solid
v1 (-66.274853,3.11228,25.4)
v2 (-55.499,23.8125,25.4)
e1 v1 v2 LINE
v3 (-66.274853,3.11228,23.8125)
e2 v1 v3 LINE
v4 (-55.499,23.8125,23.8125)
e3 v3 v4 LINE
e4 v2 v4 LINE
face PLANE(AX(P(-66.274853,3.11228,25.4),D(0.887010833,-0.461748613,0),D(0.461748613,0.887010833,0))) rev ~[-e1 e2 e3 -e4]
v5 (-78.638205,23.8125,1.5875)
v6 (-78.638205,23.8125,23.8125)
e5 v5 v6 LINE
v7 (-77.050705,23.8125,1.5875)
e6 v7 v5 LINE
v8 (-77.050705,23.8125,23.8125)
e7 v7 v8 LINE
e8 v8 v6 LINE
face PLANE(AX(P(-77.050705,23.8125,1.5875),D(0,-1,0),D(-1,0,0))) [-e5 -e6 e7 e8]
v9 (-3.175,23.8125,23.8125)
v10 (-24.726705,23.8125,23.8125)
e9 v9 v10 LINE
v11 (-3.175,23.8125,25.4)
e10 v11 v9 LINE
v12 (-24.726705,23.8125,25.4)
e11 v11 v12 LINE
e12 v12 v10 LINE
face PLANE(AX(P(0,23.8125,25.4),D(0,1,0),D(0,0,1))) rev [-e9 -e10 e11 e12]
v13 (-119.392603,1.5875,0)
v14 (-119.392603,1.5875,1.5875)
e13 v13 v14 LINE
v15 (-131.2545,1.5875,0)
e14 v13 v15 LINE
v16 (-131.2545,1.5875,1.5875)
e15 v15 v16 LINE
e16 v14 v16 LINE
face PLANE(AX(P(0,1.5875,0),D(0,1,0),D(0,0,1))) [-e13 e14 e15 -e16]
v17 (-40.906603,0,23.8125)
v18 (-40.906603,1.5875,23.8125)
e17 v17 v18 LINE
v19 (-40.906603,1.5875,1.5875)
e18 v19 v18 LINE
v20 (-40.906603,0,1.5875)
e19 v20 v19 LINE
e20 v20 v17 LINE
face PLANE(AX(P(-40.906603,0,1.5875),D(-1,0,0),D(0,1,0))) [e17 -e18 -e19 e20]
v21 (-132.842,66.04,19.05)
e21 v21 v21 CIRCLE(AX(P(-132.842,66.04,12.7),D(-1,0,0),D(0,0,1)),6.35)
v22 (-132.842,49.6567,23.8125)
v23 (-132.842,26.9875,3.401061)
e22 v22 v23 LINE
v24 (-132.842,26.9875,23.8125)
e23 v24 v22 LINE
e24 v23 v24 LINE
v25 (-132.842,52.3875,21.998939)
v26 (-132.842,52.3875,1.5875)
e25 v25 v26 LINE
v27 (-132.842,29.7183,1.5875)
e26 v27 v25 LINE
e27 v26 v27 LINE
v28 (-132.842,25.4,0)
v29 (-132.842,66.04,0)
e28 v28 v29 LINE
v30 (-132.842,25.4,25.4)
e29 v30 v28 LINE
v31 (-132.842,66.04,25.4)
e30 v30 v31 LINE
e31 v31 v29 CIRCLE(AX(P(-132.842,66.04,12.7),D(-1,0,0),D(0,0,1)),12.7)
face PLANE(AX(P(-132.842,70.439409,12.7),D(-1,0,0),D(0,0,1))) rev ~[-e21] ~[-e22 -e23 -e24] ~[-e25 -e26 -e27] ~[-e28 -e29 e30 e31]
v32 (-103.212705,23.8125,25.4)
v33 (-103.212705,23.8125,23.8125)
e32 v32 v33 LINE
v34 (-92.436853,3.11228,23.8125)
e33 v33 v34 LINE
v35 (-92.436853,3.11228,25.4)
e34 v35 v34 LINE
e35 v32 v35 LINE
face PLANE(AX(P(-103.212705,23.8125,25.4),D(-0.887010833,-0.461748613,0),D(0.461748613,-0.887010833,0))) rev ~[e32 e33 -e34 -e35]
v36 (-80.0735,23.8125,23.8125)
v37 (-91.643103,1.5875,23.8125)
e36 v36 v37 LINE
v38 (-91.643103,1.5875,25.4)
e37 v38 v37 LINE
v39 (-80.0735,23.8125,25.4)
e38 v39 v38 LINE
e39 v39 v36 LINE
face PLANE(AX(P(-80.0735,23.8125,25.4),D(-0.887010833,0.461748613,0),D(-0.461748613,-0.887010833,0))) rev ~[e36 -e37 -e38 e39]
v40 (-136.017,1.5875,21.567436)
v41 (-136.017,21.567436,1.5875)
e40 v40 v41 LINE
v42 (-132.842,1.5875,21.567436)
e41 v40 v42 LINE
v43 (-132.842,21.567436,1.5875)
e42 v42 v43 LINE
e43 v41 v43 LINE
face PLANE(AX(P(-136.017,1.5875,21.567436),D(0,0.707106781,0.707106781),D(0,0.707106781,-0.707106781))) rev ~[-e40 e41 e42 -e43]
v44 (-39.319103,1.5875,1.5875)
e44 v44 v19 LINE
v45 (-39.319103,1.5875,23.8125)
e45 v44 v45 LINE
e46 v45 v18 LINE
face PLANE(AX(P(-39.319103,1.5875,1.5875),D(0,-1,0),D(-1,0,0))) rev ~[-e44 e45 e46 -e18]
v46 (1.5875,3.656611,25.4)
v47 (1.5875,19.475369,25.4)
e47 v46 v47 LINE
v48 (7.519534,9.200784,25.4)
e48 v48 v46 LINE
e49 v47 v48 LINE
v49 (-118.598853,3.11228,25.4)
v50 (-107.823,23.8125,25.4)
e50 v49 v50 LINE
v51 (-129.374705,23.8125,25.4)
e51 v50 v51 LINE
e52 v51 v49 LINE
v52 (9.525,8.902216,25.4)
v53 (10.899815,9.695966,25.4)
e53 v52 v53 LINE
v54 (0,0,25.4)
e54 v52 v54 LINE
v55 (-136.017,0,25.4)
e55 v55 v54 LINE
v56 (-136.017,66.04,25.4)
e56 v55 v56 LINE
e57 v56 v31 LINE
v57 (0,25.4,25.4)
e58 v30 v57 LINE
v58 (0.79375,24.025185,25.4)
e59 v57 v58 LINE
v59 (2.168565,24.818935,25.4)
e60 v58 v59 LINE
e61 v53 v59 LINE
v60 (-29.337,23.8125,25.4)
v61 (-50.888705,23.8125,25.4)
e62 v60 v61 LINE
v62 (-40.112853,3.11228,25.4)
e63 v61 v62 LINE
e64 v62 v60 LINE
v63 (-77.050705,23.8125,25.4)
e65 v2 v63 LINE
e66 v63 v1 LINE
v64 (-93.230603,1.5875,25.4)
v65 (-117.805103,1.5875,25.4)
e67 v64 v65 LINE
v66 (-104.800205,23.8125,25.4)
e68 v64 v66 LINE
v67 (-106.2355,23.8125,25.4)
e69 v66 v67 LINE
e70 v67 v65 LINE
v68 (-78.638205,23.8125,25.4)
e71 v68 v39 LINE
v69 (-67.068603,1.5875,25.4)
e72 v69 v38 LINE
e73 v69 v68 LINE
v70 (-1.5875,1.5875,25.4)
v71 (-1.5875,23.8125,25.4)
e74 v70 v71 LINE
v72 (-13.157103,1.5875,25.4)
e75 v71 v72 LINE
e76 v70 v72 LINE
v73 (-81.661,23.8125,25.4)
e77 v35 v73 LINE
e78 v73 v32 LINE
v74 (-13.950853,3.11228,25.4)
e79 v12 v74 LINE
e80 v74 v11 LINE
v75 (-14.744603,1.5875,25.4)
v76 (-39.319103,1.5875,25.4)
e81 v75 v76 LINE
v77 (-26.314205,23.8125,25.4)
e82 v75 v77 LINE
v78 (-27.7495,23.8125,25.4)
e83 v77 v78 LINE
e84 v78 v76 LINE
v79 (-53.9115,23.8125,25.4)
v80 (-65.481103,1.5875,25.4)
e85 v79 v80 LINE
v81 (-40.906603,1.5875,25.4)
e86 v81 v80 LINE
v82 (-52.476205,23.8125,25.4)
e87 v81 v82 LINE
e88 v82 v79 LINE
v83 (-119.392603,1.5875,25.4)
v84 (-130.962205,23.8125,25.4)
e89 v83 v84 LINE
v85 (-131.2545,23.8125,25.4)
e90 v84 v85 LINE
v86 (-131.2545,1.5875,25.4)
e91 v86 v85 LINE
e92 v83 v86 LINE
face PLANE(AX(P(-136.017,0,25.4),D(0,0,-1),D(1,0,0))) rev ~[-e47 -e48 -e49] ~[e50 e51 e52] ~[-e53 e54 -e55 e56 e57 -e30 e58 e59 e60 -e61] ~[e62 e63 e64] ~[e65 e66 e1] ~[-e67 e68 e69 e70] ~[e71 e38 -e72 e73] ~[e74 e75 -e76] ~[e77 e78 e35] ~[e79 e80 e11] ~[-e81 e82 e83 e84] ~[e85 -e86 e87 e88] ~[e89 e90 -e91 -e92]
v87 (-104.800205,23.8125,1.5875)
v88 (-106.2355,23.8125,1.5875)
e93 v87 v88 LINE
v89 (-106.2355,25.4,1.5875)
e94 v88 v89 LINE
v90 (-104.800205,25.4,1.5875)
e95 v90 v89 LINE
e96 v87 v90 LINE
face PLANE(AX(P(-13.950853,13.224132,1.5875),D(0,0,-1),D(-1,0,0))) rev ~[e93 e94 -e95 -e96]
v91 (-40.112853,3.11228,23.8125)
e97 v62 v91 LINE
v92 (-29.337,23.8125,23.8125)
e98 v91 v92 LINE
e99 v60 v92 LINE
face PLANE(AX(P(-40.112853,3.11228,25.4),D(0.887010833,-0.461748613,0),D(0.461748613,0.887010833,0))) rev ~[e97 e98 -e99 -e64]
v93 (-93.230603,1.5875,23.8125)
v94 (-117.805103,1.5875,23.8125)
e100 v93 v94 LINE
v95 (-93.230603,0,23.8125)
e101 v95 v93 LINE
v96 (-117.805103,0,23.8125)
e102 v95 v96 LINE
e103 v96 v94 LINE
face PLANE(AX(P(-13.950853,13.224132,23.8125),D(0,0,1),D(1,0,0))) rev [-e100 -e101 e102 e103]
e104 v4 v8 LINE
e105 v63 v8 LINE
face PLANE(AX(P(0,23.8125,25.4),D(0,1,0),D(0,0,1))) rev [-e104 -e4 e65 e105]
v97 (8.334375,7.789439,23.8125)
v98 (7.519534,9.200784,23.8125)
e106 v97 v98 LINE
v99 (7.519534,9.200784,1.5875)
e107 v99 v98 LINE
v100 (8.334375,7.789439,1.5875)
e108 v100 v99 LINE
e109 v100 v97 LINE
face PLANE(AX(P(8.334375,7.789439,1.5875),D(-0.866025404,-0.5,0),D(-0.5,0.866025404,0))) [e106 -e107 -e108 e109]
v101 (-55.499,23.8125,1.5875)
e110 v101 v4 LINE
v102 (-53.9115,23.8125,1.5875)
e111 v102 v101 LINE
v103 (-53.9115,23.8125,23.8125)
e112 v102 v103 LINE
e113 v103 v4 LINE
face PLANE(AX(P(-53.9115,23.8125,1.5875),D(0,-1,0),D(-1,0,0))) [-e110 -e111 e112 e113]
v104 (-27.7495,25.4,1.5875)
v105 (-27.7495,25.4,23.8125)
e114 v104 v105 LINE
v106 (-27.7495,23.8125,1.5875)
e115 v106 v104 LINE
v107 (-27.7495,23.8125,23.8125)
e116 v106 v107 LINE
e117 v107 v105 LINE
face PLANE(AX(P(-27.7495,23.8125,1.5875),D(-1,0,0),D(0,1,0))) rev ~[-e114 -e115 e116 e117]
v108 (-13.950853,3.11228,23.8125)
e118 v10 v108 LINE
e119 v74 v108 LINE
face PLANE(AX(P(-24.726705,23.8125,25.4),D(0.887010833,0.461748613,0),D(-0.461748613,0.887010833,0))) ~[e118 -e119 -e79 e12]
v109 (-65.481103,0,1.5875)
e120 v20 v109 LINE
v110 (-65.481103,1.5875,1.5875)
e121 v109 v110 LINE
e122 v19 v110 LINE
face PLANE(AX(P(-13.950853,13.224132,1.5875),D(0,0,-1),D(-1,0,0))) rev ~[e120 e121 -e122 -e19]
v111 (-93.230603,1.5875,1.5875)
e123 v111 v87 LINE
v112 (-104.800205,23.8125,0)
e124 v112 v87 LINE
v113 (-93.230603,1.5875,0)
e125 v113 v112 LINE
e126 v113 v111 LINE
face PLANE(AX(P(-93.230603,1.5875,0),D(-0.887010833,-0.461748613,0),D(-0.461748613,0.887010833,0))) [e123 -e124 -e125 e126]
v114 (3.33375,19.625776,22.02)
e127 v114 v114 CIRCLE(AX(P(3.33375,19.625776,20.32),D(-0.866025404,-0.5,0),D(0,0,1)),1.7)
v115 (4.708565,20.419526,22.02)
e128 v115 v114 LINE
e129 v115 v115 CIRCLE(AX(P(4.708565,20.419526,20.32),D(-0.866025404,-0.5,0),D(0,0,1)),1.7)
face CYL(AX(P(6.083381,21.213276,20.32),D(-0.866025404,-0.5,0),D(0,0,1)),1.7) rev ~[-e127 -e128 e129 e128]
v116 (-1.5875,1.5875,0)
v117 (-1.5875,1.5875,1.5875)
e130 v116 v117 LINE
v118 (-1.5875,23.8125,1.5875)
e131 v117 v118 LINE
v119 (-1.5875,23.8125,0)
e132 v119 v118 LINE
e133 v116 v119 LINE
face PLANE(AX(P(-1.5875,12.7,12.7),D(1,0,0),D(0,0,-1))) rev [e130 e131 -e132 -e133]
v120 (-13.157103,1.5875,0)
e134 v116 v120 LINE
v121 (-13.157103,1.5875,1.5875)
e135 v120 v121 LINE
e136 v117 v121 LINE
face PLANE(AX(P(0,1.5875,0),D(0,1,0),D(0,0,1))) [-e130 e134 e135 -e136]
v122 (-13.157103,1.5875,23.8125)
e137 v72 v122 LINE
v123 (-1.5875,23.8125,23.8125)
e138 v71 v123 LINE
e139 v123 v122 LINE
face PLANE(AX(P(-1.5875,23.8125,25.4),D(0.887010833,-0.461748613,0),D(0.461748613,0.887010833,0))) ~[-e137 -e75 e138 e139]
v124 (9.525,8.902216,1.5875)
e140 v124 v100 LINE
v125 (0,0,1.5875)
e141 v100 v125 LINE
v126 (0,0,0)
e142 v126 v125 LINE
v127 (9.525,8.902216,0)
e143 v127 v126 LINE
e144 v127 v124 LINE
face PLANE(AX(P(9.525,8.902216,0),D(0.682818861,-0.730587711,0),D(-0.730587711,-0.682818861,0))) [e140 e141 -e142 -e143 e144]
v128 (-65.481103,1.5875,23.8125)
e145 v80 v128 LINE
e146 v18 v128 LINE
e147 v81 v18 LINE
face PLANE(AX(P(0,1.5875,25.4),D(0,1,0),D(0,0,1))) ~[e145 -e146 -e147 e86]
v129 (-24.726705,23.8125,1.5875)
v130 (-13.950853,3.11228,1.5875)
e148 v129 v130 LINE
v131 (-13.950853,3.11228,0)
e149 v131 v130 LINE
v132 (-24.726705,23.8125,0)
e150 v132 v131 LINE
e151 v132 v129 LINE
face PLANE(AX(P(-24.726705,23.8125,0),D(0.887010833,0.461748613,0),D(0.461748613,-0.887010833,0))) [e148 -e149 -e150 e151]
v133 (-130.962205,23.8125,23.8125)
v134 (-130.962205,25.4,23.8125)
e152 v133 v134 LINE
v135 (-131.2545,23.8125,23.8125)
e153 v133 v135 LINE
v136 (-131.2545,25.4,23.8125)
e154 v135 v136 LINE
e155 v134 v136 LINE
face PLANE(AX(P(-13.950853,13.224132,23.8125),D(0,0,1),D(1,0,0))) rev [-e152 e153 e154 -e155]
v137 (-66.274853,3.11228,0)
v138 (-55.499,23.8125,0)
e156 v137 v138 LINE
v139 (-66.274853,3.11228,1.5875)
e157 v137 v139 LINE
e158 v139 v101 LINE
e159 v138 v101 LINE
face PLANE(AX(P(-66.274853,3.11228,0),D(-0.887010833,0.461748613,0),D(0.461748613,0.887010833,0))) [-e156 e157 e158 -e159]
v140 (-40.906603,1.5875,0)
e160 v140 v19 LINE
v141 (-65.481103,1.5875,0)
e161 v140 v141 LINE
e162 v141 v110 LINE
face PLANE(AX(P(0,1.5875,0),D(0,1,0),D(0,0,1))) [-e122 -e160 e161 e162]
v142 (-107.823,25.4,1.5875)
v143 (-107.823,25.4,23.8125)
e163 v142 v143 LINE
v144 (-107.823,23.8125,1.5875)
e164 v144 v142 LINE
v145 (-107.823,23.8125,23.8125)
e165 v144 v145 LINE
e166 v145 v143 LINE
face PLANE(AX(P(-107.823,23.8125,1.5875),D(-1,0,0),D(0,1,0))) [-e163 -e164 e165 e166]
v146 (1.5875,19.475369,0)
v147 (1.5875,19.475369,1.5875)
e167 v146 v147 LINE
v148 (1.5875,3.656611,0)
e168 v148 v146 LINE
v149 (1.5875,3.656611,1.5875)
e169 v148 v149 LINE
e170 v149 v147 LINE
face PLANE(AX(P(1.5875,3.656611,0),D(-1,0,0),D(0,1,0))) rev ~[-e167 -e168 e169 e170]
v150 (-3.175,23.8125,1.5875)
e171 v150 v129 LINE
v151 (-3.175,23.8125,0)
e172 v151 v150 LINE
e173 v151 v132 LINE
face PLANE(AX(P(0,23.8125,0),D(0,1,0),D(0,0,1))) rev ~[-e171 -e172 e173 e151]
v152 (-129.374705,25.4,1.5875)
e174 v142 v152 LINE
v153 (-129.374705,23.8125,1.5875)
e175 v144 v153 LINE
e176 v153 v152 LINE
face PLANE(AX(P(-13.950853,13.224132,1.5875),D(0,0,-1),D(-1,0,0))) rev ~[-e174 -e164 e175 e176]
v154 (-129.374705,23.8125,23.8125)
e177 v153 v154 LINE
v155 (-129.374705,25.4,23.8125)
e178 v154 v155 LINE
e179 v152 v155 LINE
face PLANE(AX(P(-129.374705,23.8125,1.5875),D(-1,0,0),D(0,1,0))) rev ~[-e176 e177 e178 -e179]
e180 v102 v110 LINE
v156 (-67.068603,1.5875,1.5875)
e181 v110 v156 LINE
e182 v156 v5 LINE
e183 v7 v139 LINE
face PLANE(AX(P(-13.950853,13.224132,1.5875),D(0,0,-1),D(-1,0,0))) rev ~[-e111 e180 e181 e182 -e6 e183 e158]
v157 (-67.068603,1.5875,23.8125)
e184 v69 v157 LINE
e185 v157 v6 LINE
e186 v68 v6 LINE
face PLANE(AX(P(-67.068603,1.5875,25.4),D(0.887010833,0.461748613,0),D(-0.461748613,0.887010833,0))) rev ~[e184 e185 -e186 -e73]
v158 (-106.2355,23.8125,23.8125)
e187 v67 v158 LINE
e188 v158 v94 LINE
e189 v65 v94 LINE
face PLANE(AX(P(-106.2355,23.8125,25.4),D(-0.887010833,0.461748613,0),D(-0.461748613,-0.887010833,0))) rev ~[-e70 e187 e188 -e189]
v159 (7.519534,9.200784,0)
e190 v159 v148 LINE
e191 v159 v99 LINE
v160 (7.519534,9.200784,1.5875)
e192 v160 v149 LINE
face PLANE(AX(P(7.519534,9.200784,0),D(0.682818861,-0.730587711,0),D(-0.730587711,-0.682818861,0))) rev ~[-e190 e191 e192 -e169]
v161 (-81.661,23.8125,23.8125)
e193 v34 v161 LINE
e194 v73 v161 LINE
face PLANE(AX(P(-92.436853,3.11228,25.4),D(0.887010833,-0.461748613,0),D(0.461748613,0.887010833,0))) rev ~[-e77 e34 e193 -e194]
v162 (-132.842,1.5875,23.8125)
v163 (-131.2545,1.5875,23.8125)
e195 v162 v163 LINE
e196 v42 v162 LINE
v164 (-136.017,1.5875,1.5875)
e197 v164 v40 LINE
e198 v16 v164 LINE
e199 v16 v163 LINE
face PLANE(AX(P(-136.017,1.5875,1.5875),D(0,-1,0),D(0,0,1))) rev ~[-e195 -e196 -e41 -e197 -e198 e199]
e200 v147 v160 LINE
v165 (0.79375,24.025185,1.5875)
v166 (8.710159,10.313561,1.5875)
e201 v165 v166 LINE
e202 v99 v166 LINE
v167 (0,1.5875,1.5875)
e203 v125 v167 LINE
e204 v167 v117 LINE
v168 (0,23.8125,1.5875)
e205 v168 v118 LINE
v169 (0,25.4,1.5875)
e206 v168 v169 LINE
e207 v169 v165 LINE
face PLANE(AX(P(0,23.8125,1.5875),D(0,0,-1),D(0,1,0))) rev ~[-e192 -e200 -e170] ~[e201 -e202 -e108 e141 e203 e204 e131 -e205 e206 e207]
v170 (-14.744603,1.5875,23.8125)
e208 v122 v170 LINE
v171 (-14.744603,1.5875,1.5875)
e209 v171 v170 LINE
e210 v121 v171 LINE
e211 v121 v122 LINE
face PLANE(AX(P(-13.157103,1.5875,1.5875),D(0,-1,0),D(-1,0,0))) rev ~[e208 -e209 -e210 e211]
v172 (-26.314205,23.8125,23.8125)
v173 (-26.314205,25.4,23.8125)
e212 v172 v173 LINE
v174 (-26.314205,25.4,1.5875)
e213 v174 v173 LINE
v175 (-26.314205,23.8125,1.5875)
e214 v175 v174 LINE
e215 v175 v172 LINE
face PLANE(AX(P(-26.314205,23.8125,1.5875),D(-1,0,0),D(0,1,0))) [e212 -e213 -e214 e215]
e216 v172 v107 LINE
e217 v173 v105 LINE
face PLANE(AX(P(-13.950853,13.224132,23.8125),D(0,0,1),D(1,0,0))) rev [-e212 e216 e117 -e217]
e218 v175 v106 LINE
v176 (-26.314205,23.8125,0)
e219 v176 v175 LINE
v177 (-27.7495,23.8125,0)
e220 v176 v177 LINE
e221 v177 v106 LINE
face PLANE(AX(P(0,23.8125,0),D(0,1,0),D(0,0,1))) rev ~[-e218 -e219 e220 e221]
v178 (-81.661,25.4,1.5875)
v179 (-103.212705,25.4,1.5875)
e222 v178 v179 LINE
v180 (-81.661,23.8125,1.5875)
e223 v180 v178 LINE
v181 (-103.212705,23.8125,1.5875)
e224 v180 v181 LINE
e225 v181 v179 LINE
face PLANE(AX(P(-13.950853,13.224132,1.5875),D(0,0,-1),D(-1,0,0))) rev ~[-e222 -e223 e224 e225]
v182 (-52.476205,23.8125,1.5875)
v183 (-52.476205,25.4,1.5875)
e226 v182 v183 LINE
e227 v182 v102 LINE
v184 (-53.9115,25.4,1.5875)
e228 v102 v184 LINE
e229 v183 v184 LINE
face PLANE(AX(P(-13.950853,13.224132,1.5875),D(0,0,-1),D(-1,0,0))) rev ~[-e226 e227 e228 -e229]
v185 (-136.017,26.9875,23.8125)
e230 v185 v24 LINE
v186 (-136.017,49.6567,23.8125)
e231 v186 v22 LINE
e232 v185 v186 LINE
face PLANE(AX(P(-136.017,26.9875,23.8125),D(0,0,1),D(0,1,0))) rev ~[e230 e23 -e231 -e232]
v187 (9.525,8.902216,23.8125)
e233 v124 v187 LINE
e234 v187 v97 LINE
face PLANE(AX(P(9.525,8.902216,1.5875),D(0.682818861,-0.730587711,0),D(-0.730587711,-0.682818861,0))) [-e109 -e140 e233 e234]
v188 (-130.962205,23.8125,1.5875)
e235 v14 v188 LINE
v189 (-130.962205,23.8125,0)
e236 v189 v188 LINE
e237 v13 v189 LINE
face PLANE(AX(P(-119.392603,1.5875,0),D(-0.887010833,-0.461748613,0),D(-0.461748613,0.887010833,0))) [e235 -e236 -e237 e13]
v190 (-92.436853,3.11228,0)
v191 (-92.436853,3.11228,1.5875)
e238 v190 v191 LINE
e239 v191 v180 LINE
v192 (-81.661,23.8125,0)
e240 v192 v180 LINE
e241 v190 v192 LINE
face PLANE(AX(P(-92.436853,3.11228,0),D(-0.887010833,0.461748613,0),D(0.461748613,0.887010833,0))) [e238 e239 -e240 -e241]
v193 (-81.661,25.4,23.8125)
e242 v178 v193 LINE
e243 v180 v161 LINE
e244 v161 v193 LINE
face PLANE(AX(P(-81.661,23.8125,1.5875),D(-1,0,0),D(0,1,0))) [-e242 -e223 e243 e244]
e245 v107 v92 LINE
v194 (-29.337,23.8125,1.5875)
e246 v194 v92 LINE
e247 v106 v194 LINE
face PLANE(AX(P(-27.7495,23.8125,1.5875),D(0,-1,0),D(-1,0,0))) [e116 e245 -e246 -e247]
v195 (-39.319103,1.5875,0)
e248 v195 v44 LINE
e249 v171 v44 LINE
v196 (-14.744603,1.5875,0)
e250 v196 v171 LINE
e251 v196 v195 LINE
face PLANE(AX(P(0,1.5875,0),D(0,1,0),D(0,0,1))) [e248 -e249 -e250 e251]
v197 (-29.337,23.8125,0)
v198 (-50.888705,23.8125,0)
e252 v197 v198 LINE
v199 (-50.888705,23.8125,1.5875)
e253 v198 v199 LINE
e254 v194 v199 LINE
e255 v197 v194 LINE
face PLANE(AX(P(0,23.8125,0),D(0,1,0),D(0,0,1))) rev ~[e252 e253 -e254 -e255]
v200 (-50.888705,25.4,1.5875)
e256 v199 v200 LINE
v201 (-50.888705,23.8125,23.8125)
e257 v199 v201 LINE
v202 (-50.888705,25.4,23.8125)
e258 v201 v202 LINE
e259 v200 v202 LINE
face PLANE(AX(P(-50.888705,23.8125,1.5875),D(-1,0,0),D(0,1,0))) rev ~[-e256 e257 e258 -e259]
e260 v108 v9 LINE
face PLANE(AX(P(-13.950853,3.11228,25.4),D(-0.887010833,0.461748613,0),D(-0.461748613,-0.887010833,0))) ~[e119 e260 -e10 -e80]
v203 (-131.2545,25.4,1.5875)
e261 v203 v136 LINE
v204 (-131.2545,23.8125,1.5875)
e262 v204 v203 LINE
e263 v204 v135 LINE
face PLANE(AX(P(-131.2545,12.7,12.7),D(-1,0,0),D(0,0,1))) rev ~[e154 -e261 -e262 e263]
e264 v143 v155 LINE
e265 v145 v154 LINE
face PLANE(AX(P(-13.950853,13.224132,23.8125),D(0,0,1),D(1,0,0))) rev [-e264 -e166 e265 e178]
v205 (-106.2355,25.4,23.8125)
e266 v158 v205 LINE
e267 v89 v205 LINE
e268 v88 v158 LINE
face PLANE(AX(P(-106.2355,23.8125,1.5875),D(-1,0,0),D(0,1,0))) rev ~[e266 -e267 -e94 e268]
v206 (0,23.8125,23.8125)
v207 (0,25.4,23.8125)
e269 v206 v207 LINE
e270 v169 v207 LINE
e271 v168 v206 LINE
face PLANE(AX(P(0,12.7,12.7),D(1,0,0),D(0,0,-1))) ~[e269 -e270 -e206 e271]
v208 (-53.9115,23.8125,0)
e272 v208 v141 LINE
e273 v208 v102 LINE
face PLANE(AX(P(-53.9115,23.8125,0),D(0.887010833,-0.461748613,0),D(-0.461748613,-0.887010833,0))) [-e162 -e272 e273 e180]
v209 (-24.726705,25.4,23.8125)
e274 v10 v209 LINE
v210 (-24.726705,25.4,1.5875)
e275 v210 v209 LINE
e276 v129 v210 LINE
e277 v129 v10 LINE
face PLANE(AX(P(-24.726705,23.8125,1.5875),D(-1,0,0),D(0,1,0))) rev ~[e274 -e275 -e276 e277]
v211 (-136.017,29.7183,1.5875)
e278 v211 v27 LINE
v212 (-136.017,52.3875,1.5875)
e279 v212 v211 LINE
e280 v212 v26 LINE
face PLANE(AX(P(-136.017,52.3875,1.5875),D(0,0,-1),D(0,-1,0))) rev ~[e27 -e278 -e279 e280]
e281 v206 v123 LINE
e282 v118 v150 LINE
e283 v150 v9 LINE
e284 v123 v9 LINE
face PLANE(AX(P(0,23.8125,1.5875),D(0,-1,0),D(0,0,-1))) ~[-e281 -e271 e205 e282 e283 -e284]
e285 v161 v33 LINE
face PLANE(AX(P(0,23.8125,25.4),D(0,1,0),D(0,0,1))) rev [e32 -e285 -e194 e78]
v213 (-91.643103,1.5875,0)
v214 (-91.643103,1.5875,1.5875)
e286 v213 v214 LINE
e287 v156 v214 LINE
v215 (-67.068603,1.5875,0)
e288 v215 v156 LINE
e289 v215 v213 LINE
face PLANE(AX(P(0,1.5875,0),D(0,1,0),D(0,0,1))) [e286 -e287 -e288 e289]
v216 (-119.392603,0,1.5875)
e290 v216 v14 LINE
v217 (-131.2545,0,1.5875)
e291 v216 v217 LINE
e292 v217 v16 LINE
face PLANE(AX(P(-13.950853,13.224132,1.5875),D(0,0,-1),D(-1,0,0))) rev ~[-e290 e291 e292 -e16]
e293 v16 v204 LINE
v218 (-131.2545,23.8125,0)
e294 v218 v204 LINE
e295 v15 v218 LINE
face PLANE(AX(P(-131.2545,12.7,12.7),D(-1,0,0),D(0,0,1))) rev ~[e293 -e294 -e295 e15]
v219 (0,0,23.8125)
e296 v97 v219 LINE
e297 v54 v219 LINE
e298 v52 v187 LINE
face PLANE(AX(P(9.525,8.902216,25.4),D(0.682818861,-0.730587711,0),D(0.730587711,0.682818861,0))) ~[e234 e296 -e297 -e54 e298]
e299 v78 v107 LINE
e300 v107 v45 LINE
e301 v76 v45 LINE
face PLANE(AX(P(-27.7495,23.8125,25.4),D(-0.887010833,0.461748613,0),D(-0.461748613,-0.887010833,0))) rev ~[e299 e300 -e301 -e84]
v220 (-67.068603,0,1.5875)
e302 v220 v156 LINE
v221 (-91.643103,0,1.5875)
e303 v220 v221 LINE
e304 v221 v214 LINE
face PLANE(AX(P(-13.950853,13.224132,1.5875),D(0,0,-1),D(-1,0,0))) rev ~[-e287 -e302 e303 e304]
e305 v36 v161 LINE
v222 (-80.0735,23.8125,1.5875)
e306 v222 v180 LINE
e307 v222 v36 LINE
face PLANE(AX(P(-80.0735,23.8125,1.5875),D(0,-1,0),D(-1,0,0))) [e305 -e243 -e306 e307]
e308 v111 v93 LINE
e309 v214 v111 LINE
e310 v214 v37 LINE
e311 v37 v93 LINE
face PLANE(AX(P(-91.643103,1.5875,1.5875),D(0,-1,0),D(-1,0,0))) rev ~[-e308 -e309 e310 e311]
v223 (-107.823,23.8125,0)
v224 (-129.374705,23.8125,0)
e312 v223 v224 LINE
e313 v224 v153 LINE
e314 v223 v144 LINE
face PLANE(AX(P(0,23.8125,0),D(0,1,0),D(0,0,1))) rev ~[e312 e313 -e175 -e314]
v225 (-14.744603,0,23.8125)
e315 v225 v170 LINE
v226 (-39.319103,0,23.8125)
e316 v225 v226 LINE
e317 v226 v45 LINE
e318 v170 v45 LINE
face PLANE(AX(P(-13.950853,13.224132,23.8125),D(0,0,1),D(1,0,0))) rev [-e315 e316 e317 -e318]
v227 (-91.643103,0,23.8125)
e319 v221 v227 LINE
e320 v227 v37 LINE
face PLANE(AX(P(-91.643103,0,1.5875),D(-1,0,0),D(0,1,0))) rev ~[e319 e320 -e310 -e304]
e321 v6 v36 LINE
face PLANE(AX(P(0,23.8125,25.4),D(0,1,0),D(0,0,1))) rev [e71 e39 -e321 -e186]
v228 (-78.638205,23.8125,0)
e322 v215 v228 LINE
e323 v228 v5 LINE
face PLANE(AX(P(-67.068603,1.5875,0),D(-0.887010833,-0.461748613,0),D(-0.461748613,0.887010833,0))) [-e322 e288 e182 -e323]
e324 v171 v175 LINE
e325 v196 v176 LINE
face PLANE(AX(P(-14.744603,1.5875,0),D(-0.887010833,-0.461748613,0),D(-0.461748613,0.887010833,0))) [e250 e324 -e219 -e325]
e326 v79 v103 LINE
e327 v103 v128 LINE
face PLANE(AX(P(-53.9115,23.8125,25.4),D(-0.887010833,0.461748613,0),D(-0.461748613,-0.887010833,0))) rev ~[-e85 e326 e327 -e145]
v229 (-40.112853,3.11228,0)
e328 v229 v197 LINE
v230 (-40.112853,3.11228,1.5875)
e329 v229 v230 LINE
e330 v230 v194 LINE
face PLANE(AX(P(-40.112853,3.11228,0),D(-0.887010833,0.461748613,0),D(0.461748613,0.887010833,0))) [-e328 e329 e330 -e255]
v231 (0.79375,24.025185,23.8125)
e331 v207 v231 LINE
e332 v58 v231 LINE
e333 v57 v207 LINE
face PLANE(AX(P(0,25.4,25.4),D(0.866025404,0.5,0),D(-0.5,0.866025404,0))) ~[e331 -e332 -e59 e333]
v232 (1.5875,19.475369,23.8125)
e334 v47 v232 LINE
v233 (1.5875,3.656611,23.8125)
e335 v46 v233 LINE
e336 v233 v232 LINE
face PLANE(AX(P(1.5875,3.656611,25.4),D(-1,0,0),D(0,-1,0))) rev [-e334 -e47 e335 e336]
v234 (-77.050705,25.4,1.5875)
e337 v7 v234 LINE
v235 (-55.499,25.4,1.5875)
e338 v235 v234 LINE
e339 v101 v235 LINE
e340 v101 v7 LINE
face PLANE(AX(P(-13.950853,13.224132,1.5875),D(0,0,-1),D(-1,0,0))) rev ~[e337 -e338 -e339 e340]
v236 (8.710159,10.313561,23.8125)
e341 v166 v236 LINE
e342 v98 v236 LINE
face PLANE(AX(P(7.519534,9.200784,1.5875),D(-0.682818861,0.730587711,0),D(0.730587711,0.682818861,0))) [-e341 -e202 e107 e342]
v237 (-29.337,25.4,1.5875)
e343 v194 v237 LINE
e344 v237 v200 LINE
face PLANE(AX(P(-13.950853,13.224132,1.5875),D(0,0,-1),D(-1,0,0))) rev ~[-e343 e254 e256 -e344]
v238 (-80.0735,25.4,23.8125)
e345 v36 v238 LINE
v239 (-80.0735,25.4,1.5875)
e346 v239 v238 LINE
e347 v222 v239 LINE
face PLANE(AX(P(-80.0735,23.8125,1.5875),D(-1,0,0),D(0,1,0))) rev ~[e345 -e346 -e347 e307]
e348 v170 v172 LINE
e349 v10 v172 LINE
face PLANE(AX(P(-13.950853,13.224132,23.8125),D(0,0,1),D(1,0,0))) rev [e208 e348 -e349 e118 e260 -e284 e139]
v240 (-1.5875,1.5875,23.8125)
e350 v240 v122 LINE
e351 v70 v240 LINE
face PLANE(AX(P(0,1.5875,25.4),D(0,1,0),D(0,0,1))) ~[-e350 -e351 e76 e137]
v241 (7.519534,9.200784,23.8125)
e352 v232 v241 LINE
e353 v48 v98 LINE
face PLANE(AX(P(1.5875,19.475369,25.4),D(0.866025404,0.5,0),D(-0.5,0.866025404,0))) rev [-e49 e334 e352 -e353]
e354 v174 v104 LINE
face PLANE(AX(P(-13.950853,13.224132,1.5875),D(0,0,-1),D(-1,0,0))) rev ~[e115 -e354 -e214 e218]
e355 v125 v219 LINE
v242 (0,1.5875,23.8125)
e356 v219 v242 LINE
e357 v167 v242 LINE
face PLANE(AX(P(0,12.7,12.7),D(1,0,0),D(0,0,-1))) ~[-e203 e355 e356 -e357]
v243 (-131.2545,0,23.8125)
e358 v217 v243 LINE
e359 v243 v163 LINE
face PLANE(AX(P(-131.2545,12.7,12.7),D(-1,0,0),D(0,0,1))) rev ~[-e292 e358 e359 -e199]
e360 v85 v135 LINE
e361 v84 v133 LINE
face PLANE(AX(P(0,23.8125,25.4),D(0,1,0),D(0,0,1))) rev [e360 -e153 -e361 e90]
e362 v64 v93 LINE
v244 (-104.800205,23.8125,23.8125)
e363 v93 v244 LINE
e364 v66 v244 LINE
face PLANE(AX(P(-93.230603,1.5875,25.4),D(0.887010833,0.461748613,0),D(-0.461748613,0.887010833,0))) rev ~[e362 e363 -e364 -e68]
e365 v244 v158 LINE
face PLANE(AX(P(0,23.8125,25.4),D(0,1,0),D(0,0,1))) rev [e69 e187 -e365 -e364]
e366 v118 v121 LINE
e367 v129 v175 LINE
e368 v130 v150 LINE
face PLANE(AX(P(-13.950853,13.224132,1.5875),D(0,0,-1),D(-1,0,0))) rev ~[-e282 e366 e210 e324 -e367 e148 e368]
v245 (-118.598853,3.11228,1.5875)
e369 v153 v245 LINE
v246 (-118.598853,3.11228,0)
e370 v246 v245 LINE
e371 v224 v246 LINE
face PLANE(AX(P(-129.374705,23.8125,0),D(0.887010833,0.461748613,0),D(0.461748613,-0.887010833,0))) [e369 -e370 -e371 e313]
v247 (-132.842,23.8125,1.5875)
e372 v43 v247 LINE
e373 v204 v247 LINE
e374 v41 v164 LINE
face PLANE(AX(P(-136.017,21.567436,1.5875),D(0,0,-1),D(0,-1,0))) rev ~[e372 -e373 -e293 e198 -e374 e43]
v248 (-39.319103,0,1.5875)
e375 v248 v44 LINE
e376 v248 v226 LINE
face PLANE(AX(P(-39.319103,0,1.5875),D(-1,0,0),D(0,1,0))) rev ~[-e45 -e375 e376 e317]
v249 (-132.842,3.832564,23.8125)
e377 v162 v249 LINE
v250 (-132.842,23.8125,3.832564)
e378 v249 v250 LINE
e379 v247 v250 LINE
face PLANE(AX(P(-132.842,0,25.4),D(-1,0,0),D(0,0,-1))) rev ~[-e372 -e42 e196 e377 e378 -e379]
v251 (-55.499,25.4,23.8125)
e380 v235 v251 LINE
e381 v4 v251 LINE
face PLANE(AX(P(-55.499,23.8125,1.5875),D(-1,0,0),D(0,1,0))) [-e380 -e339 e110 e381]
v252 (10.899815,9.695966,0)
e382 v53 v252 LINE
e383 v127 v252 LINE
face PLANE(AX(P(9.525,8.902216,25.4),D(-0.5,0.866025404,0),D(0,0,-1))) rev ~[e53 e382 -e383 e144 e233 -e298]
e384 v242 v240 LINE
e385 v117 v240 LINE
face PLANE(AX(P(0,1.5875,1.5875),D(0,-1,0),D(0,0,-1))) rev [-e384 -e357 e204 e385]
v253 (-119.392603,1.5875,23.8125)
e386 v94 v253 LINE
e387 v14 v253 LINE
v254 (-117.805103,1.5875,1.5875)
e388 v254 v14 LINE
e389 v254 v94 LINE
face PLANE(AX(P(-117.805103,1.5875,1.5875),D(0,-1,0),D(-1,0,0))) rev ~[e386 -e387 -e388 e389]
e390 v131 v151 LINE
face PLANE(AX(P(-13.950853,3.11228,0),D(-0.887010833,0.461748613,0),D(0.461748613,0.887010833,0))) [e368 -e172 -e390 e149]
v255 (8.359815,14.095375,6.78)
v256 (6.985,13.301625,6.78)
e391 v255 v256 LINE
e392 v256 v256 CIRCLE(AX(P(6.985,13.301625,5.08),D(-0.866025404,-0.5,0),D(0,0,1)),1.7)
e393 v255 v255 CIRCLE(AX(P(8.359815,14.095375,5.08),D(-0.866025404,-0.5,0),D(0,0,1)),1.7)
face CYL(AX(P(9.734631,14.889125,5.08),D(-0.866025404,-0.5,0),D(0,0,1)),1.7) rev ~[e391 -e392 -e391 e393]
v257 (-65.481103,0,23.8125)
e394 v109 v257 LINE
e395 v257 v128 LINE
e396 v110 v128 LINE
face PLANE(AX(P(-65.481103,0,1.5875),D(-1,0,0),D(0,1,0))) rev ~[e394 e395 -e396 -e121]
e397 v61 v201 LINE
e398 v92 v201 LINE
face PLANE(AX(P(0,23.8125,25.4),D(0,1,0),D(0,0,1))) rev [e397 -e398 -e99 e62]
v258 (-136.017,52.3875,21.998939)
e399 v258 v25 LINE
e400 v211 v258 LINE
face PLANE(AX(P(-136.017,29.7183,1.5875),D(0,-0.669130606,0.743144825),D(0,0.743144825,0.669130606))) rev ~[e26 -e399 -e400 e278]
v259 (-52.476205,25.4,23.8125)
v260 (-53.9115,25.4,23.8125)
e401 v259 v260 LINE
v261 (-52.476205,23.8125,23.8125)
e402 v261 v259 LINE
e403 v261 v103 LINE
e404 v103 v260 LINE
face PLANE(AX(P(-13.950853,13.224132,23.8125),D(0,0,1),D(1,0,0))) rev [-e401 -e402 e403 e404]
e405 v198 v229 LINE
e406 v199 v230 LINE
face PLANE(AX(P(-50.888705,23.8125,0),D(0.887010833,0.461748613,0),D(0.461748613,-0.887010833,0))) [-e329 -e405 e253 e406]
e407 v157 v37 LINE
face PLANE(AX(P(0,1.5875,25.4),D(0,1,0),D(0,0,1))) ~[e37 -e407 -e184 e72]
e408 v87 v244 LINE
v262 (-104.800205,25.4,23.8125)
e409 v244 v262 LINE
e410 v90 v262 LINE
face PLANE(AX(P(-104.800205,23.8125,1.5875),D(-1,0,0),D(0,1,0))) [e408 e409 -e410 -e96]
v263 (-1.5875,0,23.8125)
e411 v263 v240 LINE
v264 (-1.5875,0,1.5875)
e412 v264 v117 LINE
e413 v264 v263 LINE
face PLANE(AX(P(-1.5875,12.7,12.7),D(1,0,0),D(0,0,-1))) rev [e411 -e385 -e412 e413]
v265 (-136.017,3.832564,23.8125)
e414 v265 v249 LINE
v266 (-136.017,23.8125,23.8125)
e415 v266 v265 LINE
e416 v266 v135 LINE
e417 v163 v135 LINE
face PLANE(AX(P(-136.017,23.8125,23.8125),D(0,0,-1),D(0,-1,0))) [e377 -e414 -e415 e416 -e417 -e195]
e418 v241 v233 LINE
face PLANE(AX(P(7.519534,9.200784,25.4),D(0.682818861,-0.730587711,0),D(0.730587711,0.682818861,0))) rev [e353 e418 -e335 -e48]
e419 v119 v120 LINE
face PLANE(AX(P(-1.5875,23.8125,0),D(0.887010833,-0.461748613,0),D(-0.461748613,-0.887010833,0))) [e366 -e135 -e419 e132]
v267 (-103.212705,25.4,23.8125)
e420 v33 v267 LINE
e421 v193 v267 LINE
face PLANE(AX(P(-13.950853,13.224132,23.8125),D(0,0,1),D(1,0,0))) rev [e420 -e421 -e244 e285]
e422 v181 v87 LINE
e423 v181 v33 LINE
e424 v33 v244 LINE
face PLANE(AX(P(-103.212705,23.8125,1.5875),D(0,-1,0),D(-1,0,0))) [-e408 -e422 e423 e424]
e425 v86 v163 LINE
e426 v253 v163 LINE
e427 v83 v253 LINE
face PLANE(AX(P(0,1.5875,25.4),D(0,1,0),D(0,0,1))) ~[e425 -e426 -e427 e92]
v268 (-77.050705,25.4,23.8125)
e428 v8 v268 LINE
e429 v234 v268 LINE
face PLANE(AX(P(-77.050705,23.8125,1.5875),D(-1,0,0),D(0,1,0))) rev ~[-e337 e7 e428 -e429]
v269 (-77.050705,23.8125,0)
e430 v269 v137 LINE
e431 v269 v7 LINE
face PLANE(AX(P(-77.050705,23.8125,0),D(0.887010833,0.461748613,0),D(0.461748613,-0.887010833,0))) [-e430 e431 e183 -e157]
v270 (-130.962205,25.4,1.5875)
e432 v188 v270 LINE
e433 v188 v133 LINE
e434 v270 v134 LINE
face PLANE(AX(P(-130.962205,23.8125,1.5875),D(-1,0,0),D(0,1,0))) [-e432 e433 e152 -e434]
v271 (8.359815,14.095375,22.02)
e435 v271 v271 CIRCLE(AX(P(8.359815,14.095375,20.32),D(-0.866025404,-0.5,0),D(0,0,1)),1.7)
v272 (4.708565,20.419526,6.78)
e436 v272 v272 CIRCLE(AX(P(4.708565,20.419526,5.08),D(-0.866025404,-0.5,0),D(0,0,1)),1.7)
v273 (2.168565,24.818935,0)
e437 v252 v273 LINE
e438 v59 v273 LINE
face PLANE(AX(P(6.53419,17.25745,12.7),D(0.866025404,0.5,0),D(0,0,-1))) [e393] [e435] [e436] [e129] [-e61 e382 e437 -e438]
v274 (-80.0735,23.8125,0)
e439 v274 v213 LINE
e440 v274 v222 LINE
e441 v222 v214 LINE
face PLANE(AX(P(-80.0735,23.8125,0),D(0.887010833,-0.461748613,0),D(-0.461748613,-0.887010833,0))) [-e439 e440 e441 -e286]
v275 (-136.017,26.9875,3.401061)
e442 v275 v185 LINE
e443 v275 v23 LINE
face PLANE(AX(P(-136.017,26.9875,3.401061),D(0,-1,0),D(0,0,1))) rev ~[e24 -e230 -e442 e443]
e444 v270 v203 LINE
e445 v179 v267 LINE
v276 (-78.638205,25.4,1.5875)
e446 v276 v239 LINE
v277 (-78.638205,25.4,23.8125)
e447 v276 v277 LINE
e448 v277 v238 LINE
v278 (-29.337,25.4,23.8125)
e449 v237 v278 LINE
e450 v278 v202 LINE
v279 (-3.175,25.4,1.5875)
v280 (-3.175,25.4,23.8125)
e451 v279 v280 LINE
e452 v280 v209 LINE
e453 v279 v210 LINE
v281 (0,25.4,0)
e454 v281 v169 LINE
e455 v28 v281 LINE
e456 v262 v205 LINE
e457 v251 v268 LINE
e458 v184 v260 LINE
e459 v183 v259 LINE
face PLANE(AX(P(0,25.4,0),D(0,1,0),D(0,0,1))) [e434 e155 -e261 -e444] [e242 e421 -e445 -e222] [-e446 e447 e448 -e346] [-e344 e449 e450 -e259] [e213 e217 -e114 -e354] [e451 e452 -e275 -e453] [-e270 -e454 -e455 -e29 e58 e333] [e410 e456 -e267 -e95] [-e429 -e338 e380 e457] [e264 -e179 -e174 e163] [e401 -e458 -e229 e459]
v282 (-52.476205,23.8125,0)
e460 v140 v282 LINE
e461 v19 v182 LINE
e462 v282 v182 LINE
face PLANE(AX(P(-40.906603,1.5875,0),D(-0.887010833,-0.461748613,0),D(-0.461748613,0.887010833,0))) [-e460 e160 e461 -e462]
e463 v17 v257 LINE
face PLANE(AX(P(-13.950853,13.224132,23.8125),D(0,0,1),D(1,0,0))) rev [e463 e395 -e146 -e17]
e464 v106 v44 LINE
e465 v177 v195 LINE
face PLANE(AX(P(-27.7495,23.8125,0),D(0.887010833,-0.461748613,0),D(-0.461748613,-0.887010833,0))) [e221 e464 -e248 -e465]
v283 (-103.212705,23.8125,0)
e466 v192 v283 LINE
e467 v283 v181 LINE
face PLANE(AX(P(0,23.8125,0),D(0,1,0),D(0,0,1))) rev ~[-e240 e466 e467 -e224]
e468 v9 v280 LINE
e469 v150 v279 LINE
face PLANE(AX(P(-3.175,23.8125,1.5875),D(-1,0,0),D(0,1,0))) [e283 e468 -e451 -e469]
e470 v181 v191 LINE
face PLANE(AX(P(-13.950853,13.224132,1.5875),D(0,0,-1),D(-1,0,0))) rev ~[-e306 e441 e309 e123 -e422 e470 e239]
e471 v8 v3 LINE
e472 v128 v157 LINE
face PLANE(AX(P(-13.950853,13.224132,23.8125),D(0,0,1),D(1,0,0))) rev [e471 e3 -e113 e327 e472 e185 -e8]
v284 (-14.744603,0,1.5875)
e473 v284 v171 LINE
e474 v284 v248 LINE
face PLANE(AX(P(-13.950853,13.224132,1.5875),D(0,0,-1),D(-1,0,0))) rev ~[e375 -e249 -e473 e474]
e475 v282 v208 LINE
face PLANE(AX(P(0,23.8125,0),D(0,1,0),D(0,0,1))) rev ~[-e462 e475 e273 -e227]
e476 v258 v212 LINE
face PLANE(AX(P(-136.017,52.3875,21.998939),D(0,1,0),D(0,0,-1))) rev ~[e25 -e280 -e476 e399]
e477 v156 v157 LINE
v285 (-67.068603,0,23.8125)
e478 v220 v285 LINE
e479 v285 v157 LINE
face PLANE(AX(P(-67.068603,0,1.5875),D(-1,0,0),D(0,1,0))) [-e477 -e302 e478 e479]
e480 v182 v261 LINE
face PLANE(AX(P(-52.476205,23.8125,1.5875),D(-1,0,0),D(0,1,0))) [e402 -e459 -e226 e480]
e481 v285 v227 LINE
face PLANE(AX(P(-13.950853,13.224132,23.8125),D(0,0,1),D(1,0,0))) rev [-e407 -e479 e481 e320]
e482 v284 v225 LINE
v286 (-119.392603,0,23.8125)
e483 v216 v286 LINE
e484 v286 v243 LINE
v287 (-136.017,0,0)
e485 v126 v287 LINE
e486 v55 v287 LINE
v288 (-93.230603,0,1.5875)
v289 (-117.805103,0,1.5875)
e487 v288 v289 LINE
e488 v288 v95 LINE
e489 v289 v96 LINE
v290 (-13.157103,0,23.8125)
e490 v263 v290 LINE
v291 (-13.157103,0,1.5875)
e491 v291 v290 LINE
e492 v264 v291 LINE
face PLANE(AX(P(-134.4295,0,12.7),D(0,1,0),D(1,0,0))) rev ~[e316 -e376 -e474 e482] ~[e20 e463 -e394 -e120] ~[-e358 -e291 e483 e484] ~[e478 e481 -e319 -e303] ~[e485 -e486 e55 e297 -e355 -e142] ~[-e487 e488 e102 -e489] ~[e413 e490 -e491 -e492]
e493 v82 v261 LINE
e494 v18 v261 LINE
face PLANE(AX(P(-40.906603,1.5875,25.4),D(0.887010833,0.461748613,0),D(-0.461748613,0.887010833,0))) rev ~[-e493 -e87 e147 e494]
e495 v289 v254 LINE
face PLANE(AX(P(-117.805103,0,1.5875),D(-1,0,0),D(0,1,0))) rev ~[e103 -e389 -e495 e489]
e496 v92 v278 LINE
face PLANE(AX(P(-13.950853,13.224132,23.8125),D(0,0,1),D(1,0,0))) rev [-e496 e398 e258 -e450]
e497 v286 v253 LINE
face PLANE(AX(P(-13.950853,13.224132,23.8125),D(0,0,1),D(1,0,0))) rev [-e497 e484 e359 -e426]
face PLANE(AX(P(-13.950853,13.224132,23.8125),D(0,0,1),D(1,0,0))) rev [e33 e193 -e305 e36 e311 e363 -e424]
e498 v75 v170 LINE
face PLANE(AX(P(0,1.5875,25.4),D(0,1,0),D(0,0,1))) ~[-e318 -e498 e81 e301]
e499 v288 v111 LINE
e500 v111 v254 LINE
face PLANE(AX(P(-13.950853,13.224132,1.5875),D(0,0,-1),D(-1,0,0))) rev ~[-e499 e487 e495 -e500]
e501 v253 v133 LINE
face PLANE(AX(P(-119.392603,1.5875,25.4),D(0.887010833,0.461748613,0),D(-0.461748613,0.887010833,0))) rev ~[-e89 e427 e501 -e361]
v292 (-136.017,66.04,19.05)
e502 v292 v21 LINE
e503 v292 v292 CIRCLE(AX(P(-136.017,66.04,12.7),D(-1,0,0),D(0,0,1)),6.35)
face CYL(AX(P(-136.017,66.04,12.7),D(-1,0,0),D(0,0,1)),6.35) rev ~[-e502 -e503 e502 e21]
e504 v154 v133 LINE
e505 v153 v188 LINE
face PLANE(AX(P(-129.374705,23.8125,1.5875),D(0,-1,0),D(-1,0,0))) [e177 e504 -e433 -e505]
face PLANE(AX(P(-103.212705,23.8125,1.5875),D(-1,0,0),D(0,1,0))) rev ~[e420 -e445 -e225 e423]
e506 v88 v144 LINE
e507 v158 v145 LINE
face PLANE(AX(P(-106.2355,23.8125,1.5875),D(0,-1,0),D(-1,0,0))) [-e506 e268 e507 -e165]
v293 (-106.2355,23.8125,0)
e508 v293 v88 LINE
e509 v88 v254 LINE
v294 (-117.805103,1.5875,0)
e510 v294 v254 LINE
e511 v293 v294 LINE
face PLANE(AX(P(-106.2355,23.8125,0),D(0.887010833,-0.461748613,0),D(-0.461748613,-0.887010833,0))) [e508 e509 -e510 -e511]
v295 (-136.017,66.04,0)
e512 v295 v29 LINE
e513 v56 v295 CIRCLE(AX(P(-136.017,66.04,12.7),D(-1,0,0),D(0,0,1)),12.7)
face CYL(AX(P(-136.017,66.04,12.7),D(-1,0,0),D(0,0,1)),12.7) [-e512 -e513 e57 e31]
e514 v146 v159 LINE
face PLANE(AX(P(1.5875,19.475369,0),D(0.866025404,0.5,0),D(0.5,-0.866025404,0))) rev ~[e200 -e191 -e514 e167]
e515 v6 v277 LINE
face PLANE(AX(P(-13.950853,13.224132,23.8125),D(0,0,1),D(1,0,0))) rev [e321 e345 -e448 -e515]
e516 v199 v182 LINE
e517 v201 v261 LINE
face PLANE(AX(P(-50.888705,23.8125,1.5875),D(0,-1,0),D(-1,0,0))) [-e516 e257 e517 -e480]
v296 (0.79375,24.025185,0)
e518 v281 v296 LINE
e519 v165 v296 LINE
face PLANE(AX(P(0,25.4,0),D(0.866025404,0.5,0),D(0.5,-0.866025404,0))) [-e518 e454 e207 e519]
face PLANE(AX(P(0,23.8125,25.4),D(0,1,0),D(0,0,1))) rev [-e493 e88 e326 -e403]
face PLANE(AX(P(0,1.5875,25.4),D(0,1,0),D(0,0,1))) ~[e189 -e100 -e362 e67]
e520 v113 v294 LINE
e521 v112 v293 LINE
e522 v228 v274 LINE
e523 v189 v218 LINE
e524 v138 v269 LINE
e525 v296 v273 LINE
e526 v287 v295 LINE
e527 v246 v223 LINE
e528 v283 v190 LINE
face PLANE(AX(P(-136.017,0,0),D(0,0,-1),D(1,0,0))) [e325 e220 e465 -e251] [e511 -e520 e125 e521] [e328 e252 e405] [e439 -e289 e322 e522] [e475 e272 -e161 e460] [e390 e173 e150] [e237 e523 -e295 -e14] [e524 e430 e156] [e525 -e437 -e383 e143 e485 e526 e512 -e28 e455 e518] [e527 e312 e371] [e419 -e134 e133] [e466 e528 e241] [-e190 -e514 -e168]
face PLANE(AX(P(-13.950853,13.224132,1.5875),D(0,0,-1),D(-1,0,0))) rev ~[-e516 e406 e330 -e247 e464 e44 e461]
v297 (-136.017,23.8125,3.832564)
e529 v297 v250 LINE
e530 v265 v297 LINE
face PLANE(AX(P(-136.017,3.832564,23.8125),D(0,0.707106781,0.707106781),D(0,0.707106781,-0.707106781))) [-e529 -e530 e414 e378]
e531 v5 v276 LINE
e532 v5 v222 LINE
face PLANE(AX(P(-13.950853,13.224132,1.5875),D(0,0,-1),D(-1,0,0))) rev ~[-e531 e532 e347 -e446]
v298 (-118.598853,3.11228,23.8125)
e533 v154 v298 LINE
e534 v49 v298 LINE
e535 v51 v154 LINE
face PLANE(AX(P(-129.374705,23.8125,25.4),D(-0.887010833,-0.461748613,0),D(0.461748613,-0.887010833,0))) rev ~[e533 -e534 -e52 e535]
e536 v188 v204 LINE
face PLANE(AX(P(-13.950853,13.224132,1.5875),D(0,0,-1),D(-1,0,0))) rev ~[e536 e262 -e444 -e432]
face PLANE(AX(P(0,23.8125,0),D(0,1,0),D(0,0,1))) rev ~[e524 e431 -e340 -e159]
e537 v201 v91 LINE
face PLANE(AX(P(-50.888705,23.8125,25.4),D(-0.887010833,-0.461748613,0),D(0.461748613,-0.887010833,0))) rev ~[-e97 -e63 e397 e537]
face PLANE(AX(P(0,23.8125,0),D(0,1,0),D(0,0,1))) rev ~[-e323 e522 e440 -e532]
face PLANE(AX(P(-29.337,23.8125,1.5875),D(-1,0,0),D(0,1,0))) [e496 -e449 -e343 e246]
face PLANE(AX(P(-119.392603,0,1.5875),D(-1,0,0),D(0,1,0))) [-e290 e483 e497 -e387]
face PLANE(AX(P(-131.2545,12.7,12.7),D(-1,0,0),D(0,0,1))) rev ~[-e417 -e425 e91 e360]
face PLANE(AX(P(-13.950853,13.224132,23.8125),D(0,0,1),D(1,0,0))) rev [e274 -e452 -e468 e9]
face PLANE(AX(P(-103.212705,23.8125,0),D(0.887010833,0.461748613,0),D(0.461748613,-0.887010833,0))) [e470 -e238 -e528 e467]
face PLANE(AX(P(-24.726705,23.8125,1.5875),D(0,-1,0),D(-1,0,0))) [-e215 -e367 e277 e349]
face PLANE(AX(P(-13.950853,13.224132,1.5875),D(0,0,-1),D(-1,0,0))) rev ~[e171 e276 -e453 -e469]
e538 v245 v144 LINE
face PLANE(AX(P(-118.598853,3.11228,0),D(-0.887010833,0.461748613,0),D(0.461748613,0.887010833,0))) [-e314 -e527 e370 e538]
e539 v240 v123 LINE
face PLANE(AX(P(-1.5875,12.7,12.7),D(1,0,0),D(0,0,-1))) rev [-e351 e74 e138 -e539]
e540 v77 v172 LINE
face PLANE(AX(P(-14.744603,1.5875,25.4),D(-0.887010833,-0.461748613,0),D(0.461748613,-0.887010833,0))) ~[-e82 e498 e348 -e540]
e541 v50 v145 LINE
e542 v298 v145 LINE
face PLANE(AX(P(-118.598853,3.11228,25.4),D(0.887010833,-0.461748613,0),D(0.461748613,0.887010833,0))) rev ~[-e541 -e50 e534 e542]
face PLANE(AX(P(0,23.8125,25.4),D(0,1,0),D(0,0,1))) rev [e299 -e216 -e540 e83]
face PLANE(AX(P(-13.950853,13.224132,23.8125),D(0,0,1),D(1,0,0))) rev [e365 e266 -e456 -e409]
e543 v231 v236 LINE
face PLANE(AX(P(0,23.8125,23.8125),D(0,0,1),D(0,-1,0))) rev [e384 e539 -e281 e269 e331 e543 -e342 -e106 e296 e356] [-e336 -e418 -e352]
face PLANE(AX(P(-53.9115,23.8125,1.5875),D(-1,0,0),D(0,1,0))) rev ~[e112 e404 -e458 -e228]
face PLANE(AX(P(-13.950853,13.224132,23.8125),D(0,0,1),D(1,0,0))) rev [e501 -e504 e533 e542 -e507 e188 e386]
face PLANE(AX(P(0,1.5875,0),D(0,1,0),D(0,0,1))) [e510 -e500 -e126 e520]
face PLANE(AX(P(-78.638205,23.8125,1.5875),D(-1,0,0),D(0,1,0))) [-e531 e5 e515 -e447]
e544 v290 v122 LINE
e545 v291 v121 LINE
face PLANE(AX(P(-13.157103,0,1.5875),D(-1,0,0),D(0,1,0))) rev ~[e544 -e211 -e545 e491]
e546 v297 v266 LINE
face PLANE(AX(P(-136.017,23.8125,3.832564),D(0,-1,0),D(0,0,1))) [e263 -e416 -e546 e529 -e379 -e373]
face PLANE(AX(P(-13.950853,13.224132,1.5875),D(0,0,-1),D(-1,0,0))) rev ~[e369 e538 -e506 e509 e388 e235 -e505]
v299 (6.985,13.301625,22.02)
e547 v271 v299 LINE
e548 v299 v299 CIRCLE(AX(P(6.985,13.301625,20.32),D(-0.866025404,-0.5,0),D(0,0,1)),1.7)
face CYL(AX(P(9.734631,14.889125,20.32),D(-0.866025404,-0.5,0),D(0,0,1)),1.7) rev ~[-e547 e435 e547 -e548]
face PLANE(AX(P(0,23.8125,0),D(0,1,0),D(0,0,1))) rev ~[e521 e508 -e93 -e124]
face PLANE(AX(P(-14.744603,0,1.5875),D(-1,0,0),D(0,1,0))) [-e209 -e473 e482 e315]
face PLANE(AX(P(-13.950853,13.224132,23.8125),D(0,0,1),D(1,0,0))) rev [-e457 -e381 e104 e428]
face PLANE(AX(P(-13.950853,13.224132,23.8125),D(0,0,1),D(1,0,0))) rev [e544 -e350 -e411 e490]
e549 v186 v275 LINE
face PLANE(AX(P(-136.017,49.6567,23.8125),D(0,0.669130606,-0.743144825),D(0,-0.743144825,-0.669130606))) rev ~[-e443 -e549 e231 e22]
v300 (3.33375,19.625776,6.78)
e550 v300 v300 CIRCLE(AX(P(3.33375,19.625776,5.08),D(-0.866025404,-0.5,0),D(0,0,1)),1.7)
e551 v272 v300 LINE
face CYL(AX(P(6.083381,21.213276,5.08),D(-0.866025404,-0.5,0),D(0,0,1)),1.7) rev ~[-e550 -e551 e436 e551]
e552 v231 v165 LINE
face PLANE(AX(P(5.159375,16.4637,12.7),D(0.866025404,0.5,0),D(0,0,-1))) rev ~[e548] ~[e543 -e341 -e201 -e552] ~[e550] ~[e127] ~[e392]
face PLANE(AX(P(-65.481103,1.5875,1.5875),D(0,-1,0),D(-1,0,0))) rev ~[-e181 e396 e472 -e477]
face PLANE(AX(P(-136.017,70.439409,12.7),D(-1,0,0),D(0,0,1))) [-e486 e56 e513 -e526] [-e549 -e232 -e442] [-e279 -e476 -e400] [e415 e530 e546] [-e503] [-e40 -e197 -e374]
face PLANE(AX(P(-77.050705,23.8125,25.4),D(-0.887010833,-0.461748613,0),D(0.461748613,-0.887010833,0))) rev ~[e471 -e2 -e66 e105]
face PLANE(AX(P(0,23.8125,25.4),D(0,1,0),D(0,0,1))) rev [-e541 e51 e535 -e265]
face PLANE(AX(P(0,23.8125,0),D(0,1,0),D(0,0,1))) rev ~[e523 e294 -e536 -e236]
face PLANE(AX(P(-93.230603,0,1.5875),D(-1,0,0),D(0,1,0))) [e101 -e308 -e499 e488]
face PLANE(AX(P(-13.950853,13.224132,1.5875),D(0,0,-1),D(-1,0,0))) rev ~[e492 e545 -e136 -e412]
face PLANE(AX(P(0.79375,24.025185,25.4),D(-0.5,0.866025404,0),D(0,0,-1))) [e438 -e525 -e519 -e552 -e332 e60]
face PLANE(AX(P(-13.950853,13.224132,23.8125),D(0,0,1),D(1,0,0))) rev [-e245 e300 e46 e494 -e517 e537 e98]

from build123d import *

# Parameters (mm, degrees)
BOSS_EXTRUDE1_DEPTH      = 1.5875
SKETCH2_W                = 1.5875
SKETCH2_H                = 1.5875
BOSS_EXTRUDE2_DEPTH      = 132.842
SKETCH3_W                = 25.4
SKETCH3_H                = 25.4
SKETCH3_W_2              = 22.225
SKETCH3_H_2              = 22.225
BOSS_EXTRUDE3_DEPTH      = 1.5875
BOSS_EXTRUDE4_START      = -1.5875
BOSS_EXTRUDE4_DEPTH      = 22.225
BOSS_EXTRUDE5_DEPTH      = 1.5875
LPATTERN1_COUNT          = 5
LPATTERN1_PITCH          = 26.162
MIRROR6_COPY_1_DEPTH     = 1.5875
MIRROR6_COPY_2_DEPTH     = 1.5875
MIRROR6_COPY_3_DEPTH     = 1.5875
MIRROR6_COPY_4_DEPTH     = 1.5875
BOSS_EXTRUDE6_START      = -1.5875
SKETCH10_W               = 1.5875
SKETCH10_H               = 1.5875
BOSS_EXTRUDE6_DEPTH      = 22.225
LPATTERN2_COUNT          = 5
LPATTERN2_PITCH          = 26.162
SKETCH12_W               = 25.4
SKETCH12_H               = 17.4625
BOSS_EXTRUDE13_DEPTH     = 1.5875
M3_CLEARANCE_HOLE1_D     = 3.4
M3_CLEARANCE_HOLE1_DEPTH = 1.5875
SKETCH19_W               = 3.175
SKETCH19_H               = 25.4
BOSS_EXTRUDE14_DEPTH     = 66.04
BOSS_EXTRUDE15_DEPTH     = 3.175
SKETCH21_R               = 6.35
CUT_EXTRUDE1_DEPTH       = 3.175


with BuildPart() as part:
    # Sketch1 → Boss-Extrude1 (new body)
    with BuildSketch(Plane.XY):
        Polygon((0, 0), (0, 25.4), (9.525, 8.902216058), align=None)
        Polygon((7.519534439, 9.200784302), (1.5875, 3.656610839), (1.5875, 19.475369343), align=None, mode=Mode.SUBTRACT)
    extrude(amount=BOSS_EXTRUDE1_DEPTH)

    # Sketch2 → Boss-Extrude2 (add)
    with BuildSketch(Plane.ZY):
        with Locations((0.79375, 24.60625)):
            Rectangle(SKETCH2_W, SKETCH2_H)
        with Locations((0.79375, 0.79375)):
            Rectangle(SKETCH2_W, SKETCH2_H)
    extrude(amount=BOSS_EXTRUDE2_DEPTH)

    # Sketch3 → Boss-Extrude3 (add)
    with BuildSketch(Plane.ZY.offset(132.842)):
        with Locations((12.7, 12.7)):
            Rectangle(SKETCH3_W, SKETCH3_H)
        with Locations((12.7, 12.7)):
            Rectangle(SKETCH3_W_2, SKETCH3_H_2, mode=Mode.SUBTRACT)
    boss_extrude3 = extrude(amount=-BOSS_EXTRUDE3_DEPTH)

    # Mirror4: part across plane


with BuildPart() as part_1:
    add(part.part)
    add(part.part.mirror(Plane.XY.offset(12.7)))

    # Mirror5: Boss-Extrude3 across plane
    add(boss_extrude3.mirror(Plane(origin=(-66.421, 0, 0), x_dir=(0, 0, 1), z_dir=(1, 0, 0))))

    # Sketch7 → Boss-Extrude4 (add)
    with BuildSketch(Plane(origin=(0, 0, 0), x_dir=(-1, 0, 0), z_dir=(0, 0, -1)).offset(BOSS_EXTRUDE4_START)):
        Polygon((-9.525, 8.902216058), (-8.334375, 7.789439051), (-7.519534439, 9.200784302), (-8.710159439, 10.313561309), align=None)
    extrude(amount=-BOSS_EXTRUDE4_DEPTH)

    # Sketch9 → Boss-Extrude5 (add)
    with BuildSketch(Plane(origin=(0, 0, 0), x_dir=(-1, 0, 0), z_dir=(0, 0, -1))):
        Polygon((1.5875, 23.8125), (13.157102699, 1.5875), (14.744602699, 1.5875), (26.314205397, 23.8125), (24.726705397, 23.8125), (13.950852699, 3.112279563), (3.175, 23.8125), align=None)
    boss_extrude5 = extrude(amount=-BOSS_EXTRUDE5_DEPTH)

    # LPattern1: Boss-Extrude5 ×5
    with Locations(*[(-i * LPATTERN1_PITCH, 0, 0) for i in range(1, LPATTERN1_COUNT)]):
        add(boss_extrude5)

    # Mirror6: Boss-Extrude5 across plane
    add(boss_extrude5.mirror(Plane.XY.offset(12.7)))

    # Mirror6 copy 1 sketch → Mirror6 copy 1 (add)
    with BuildSketch(Plane(origin=(-26.162, 0, 25.4), x_dir=(-1, 0, 0), z_dir=(0, 0, 1))):
        Polygon((1.5875, -23.8125), (13.157102699, -1.5875), (14.744602699, -1.5875), (26.314205397, -23.8125), (24.726705397, -23.8125), (13.950852699, -3.112279563), (3.175, -23.8125), align=None)
    extrude(amount=-MIRROR6_COPY_1_DEPTH)

    # Mirror6 copy 2 sketch → Mirror6 copy 2 (add)
    with BuildSketch(Plane(origin=(-52.324, 0, 25.4), x_dir=(-1, 0, 0), z_dir=(0, 0, 1))):
        Polygon((1.5875, -23.8125), (13.157102699, -1.5875), (14.744602699, -1.5875), (26.314205397, -23.8125), (24.726705397, -23.8125), (13.950852699, -3.112279563), (3.175, -23.8125), align=None)
    extrude(amount=-MIRROR6_COPY_2_DEPTH)

    # Mirror6 copy 3 sketch → Mirror6 copy 3 (add)
    with BuildSketch(Plane(origin=(-78.486, 0, 25.4), x_dir=(-1, 0, 0), z_dir=(0, 0, 1))):
        Polygon((1.5875, -23.8125), (13.157102699, -1.5875), (14.744602699, -1.5875), (26.314205397, -23.8125), (24.726705397, -23.8125), (13.950852699, -3.112279563), (3.175, -23.8125), align=None)
    extrude(amount=-MIRROR6_COPY_3_DEPTH)

    # Mirror6 copy 4 sketch → Mirror6 copy 4 (add)
    with BuildSketch(Plane(origin=(-104.648, 0, 25.4), x_dir=(-1, 0, 0), z_dir=(0, 0, 1))):
        Polygon((1.5875, -23.8125), (13.157102699, -1.5875), (14.744602699, -1.5875), (26.314205397, -23.8125), (24.726705397, -23.8125), (13.950852699, -3.112279563), (3.175, -23.8125), align=None)
    extrude(amount=-MIRROR6_COPY_4_DEPTH)

    # Sketch10 → Boss-Extrude6 (add)
    with BuildSketch(Plane(origin=(0, 0, 0), x_dir=(-1, 0, 0), z_dir=(0, 0, -1)).offset(BOSS_EXTRUDE6_START)):
        with Locations((118.598852699, 0.79375)):
            Rectangle(SKETCH10_W, SKETCH10_H)
        with Locations((130.168455397, 24.60625)):
            Rectangle(SKETCH10_W, SKETCH10_H)
        with Locations((107.02925, 24.60625)):
            Rectangle(SKETCH10_W, SKETCH10_H)
    boss_extrude6 = extrude(amount=-BOSS_EXTRUDE6_DEPTH)

    # LPattern2: Boss-Extrude6 ×5
    with Locations(*[(i * LPATTERN2_PITCH, 0, 0) for i in range(1, LPATTERN2_COUNT)]):
        add(boss_extrude6)

    # Sketch12 → Boss-Extrude13 (add)
    with BuildSketch(Plane(origin=(10.998522628, 6.35, 0), x_dir=(0, 0, -1), z_dir=(0.8660254037844415, 0.49999999999999506, 0))):
        with Locations((-12.7, 11.678295256)):
            Rectangle(SKETCH12_W, SKETCH12_H)
    extrude(amount=BOSS_EXTRUDE13_DEPTH)

    # M3 Clearance Hole1
    with Locations(Plane(origin=(12.373337957, 7.14375, 0), x_dir=(0, 0, -1), z_dir=(0.8660254037844414, 0.49999999999999517, 0))):
        with Locations((-20.32, 15.329545256), (-20.32, 8.027045256), (-5.08, 15.329545256), (-5.08, 8.027045256)):
            Hole(M3_CLEARANCE_HOLE1_D / 2, depth=M3_CLEARANCE_HOLE1_DEPTH)

    # Sketch19 → Boss-Extrude14 (add)
    with BuildSketch(Plane(origin=(0, 0, 0), x_dir=(1, 0, 0), z_dir=(0, 1, 0))):
        with Locations((-134.4295, -12.7)):
            Rectangle(SKETCH19_W, SKETCH19_H)
    extrude(amount=BOSS_EXTRUDE14_DEPTH)

    # Sketch20 → Boss-Extrude15 (add)
    with BuildSketch(Plane.ZY.offset(136.017)):
        with BuildLine():
            Line((0, 66.04), (25.4, 66.04))
            ThreePointArc((25.4, 66.04), (12.7, 78.74), (0, 66.04))
        make_face()
    extrude(amount=-BOSS_EXTRUDE15_DEPTH)

    # Sketch21 → Cut-Extrude1 (cut)
    with BuildSketch(Plane.ZY.offset(136.017)):
        with Locations((12.7, 66.04)):
            Circle(SKETCH21_R)
        Polygon((1.5875, 29.718299952), (21.998939404, 52.3875), (1.5875, 52.3875), align=None)
        Polygon((1.5875, 1.5875), (21.56743597, 1.5875), (1.5875, 21.56743597), align=None)
        Polygon((3.83256403, 23.8125), (23.8125, 23.8125), (23.8125, 3.83256403), align=None)
        Polygon((3.401060596, 26.9875), (23.8125, 26.9875), (23.8125, 49.656700048), align=None)
    extrude(amount=-CUT_EXTRUDE1_DEPTH, mode=Mode.SUBTRACT)


solid = part_1.part
